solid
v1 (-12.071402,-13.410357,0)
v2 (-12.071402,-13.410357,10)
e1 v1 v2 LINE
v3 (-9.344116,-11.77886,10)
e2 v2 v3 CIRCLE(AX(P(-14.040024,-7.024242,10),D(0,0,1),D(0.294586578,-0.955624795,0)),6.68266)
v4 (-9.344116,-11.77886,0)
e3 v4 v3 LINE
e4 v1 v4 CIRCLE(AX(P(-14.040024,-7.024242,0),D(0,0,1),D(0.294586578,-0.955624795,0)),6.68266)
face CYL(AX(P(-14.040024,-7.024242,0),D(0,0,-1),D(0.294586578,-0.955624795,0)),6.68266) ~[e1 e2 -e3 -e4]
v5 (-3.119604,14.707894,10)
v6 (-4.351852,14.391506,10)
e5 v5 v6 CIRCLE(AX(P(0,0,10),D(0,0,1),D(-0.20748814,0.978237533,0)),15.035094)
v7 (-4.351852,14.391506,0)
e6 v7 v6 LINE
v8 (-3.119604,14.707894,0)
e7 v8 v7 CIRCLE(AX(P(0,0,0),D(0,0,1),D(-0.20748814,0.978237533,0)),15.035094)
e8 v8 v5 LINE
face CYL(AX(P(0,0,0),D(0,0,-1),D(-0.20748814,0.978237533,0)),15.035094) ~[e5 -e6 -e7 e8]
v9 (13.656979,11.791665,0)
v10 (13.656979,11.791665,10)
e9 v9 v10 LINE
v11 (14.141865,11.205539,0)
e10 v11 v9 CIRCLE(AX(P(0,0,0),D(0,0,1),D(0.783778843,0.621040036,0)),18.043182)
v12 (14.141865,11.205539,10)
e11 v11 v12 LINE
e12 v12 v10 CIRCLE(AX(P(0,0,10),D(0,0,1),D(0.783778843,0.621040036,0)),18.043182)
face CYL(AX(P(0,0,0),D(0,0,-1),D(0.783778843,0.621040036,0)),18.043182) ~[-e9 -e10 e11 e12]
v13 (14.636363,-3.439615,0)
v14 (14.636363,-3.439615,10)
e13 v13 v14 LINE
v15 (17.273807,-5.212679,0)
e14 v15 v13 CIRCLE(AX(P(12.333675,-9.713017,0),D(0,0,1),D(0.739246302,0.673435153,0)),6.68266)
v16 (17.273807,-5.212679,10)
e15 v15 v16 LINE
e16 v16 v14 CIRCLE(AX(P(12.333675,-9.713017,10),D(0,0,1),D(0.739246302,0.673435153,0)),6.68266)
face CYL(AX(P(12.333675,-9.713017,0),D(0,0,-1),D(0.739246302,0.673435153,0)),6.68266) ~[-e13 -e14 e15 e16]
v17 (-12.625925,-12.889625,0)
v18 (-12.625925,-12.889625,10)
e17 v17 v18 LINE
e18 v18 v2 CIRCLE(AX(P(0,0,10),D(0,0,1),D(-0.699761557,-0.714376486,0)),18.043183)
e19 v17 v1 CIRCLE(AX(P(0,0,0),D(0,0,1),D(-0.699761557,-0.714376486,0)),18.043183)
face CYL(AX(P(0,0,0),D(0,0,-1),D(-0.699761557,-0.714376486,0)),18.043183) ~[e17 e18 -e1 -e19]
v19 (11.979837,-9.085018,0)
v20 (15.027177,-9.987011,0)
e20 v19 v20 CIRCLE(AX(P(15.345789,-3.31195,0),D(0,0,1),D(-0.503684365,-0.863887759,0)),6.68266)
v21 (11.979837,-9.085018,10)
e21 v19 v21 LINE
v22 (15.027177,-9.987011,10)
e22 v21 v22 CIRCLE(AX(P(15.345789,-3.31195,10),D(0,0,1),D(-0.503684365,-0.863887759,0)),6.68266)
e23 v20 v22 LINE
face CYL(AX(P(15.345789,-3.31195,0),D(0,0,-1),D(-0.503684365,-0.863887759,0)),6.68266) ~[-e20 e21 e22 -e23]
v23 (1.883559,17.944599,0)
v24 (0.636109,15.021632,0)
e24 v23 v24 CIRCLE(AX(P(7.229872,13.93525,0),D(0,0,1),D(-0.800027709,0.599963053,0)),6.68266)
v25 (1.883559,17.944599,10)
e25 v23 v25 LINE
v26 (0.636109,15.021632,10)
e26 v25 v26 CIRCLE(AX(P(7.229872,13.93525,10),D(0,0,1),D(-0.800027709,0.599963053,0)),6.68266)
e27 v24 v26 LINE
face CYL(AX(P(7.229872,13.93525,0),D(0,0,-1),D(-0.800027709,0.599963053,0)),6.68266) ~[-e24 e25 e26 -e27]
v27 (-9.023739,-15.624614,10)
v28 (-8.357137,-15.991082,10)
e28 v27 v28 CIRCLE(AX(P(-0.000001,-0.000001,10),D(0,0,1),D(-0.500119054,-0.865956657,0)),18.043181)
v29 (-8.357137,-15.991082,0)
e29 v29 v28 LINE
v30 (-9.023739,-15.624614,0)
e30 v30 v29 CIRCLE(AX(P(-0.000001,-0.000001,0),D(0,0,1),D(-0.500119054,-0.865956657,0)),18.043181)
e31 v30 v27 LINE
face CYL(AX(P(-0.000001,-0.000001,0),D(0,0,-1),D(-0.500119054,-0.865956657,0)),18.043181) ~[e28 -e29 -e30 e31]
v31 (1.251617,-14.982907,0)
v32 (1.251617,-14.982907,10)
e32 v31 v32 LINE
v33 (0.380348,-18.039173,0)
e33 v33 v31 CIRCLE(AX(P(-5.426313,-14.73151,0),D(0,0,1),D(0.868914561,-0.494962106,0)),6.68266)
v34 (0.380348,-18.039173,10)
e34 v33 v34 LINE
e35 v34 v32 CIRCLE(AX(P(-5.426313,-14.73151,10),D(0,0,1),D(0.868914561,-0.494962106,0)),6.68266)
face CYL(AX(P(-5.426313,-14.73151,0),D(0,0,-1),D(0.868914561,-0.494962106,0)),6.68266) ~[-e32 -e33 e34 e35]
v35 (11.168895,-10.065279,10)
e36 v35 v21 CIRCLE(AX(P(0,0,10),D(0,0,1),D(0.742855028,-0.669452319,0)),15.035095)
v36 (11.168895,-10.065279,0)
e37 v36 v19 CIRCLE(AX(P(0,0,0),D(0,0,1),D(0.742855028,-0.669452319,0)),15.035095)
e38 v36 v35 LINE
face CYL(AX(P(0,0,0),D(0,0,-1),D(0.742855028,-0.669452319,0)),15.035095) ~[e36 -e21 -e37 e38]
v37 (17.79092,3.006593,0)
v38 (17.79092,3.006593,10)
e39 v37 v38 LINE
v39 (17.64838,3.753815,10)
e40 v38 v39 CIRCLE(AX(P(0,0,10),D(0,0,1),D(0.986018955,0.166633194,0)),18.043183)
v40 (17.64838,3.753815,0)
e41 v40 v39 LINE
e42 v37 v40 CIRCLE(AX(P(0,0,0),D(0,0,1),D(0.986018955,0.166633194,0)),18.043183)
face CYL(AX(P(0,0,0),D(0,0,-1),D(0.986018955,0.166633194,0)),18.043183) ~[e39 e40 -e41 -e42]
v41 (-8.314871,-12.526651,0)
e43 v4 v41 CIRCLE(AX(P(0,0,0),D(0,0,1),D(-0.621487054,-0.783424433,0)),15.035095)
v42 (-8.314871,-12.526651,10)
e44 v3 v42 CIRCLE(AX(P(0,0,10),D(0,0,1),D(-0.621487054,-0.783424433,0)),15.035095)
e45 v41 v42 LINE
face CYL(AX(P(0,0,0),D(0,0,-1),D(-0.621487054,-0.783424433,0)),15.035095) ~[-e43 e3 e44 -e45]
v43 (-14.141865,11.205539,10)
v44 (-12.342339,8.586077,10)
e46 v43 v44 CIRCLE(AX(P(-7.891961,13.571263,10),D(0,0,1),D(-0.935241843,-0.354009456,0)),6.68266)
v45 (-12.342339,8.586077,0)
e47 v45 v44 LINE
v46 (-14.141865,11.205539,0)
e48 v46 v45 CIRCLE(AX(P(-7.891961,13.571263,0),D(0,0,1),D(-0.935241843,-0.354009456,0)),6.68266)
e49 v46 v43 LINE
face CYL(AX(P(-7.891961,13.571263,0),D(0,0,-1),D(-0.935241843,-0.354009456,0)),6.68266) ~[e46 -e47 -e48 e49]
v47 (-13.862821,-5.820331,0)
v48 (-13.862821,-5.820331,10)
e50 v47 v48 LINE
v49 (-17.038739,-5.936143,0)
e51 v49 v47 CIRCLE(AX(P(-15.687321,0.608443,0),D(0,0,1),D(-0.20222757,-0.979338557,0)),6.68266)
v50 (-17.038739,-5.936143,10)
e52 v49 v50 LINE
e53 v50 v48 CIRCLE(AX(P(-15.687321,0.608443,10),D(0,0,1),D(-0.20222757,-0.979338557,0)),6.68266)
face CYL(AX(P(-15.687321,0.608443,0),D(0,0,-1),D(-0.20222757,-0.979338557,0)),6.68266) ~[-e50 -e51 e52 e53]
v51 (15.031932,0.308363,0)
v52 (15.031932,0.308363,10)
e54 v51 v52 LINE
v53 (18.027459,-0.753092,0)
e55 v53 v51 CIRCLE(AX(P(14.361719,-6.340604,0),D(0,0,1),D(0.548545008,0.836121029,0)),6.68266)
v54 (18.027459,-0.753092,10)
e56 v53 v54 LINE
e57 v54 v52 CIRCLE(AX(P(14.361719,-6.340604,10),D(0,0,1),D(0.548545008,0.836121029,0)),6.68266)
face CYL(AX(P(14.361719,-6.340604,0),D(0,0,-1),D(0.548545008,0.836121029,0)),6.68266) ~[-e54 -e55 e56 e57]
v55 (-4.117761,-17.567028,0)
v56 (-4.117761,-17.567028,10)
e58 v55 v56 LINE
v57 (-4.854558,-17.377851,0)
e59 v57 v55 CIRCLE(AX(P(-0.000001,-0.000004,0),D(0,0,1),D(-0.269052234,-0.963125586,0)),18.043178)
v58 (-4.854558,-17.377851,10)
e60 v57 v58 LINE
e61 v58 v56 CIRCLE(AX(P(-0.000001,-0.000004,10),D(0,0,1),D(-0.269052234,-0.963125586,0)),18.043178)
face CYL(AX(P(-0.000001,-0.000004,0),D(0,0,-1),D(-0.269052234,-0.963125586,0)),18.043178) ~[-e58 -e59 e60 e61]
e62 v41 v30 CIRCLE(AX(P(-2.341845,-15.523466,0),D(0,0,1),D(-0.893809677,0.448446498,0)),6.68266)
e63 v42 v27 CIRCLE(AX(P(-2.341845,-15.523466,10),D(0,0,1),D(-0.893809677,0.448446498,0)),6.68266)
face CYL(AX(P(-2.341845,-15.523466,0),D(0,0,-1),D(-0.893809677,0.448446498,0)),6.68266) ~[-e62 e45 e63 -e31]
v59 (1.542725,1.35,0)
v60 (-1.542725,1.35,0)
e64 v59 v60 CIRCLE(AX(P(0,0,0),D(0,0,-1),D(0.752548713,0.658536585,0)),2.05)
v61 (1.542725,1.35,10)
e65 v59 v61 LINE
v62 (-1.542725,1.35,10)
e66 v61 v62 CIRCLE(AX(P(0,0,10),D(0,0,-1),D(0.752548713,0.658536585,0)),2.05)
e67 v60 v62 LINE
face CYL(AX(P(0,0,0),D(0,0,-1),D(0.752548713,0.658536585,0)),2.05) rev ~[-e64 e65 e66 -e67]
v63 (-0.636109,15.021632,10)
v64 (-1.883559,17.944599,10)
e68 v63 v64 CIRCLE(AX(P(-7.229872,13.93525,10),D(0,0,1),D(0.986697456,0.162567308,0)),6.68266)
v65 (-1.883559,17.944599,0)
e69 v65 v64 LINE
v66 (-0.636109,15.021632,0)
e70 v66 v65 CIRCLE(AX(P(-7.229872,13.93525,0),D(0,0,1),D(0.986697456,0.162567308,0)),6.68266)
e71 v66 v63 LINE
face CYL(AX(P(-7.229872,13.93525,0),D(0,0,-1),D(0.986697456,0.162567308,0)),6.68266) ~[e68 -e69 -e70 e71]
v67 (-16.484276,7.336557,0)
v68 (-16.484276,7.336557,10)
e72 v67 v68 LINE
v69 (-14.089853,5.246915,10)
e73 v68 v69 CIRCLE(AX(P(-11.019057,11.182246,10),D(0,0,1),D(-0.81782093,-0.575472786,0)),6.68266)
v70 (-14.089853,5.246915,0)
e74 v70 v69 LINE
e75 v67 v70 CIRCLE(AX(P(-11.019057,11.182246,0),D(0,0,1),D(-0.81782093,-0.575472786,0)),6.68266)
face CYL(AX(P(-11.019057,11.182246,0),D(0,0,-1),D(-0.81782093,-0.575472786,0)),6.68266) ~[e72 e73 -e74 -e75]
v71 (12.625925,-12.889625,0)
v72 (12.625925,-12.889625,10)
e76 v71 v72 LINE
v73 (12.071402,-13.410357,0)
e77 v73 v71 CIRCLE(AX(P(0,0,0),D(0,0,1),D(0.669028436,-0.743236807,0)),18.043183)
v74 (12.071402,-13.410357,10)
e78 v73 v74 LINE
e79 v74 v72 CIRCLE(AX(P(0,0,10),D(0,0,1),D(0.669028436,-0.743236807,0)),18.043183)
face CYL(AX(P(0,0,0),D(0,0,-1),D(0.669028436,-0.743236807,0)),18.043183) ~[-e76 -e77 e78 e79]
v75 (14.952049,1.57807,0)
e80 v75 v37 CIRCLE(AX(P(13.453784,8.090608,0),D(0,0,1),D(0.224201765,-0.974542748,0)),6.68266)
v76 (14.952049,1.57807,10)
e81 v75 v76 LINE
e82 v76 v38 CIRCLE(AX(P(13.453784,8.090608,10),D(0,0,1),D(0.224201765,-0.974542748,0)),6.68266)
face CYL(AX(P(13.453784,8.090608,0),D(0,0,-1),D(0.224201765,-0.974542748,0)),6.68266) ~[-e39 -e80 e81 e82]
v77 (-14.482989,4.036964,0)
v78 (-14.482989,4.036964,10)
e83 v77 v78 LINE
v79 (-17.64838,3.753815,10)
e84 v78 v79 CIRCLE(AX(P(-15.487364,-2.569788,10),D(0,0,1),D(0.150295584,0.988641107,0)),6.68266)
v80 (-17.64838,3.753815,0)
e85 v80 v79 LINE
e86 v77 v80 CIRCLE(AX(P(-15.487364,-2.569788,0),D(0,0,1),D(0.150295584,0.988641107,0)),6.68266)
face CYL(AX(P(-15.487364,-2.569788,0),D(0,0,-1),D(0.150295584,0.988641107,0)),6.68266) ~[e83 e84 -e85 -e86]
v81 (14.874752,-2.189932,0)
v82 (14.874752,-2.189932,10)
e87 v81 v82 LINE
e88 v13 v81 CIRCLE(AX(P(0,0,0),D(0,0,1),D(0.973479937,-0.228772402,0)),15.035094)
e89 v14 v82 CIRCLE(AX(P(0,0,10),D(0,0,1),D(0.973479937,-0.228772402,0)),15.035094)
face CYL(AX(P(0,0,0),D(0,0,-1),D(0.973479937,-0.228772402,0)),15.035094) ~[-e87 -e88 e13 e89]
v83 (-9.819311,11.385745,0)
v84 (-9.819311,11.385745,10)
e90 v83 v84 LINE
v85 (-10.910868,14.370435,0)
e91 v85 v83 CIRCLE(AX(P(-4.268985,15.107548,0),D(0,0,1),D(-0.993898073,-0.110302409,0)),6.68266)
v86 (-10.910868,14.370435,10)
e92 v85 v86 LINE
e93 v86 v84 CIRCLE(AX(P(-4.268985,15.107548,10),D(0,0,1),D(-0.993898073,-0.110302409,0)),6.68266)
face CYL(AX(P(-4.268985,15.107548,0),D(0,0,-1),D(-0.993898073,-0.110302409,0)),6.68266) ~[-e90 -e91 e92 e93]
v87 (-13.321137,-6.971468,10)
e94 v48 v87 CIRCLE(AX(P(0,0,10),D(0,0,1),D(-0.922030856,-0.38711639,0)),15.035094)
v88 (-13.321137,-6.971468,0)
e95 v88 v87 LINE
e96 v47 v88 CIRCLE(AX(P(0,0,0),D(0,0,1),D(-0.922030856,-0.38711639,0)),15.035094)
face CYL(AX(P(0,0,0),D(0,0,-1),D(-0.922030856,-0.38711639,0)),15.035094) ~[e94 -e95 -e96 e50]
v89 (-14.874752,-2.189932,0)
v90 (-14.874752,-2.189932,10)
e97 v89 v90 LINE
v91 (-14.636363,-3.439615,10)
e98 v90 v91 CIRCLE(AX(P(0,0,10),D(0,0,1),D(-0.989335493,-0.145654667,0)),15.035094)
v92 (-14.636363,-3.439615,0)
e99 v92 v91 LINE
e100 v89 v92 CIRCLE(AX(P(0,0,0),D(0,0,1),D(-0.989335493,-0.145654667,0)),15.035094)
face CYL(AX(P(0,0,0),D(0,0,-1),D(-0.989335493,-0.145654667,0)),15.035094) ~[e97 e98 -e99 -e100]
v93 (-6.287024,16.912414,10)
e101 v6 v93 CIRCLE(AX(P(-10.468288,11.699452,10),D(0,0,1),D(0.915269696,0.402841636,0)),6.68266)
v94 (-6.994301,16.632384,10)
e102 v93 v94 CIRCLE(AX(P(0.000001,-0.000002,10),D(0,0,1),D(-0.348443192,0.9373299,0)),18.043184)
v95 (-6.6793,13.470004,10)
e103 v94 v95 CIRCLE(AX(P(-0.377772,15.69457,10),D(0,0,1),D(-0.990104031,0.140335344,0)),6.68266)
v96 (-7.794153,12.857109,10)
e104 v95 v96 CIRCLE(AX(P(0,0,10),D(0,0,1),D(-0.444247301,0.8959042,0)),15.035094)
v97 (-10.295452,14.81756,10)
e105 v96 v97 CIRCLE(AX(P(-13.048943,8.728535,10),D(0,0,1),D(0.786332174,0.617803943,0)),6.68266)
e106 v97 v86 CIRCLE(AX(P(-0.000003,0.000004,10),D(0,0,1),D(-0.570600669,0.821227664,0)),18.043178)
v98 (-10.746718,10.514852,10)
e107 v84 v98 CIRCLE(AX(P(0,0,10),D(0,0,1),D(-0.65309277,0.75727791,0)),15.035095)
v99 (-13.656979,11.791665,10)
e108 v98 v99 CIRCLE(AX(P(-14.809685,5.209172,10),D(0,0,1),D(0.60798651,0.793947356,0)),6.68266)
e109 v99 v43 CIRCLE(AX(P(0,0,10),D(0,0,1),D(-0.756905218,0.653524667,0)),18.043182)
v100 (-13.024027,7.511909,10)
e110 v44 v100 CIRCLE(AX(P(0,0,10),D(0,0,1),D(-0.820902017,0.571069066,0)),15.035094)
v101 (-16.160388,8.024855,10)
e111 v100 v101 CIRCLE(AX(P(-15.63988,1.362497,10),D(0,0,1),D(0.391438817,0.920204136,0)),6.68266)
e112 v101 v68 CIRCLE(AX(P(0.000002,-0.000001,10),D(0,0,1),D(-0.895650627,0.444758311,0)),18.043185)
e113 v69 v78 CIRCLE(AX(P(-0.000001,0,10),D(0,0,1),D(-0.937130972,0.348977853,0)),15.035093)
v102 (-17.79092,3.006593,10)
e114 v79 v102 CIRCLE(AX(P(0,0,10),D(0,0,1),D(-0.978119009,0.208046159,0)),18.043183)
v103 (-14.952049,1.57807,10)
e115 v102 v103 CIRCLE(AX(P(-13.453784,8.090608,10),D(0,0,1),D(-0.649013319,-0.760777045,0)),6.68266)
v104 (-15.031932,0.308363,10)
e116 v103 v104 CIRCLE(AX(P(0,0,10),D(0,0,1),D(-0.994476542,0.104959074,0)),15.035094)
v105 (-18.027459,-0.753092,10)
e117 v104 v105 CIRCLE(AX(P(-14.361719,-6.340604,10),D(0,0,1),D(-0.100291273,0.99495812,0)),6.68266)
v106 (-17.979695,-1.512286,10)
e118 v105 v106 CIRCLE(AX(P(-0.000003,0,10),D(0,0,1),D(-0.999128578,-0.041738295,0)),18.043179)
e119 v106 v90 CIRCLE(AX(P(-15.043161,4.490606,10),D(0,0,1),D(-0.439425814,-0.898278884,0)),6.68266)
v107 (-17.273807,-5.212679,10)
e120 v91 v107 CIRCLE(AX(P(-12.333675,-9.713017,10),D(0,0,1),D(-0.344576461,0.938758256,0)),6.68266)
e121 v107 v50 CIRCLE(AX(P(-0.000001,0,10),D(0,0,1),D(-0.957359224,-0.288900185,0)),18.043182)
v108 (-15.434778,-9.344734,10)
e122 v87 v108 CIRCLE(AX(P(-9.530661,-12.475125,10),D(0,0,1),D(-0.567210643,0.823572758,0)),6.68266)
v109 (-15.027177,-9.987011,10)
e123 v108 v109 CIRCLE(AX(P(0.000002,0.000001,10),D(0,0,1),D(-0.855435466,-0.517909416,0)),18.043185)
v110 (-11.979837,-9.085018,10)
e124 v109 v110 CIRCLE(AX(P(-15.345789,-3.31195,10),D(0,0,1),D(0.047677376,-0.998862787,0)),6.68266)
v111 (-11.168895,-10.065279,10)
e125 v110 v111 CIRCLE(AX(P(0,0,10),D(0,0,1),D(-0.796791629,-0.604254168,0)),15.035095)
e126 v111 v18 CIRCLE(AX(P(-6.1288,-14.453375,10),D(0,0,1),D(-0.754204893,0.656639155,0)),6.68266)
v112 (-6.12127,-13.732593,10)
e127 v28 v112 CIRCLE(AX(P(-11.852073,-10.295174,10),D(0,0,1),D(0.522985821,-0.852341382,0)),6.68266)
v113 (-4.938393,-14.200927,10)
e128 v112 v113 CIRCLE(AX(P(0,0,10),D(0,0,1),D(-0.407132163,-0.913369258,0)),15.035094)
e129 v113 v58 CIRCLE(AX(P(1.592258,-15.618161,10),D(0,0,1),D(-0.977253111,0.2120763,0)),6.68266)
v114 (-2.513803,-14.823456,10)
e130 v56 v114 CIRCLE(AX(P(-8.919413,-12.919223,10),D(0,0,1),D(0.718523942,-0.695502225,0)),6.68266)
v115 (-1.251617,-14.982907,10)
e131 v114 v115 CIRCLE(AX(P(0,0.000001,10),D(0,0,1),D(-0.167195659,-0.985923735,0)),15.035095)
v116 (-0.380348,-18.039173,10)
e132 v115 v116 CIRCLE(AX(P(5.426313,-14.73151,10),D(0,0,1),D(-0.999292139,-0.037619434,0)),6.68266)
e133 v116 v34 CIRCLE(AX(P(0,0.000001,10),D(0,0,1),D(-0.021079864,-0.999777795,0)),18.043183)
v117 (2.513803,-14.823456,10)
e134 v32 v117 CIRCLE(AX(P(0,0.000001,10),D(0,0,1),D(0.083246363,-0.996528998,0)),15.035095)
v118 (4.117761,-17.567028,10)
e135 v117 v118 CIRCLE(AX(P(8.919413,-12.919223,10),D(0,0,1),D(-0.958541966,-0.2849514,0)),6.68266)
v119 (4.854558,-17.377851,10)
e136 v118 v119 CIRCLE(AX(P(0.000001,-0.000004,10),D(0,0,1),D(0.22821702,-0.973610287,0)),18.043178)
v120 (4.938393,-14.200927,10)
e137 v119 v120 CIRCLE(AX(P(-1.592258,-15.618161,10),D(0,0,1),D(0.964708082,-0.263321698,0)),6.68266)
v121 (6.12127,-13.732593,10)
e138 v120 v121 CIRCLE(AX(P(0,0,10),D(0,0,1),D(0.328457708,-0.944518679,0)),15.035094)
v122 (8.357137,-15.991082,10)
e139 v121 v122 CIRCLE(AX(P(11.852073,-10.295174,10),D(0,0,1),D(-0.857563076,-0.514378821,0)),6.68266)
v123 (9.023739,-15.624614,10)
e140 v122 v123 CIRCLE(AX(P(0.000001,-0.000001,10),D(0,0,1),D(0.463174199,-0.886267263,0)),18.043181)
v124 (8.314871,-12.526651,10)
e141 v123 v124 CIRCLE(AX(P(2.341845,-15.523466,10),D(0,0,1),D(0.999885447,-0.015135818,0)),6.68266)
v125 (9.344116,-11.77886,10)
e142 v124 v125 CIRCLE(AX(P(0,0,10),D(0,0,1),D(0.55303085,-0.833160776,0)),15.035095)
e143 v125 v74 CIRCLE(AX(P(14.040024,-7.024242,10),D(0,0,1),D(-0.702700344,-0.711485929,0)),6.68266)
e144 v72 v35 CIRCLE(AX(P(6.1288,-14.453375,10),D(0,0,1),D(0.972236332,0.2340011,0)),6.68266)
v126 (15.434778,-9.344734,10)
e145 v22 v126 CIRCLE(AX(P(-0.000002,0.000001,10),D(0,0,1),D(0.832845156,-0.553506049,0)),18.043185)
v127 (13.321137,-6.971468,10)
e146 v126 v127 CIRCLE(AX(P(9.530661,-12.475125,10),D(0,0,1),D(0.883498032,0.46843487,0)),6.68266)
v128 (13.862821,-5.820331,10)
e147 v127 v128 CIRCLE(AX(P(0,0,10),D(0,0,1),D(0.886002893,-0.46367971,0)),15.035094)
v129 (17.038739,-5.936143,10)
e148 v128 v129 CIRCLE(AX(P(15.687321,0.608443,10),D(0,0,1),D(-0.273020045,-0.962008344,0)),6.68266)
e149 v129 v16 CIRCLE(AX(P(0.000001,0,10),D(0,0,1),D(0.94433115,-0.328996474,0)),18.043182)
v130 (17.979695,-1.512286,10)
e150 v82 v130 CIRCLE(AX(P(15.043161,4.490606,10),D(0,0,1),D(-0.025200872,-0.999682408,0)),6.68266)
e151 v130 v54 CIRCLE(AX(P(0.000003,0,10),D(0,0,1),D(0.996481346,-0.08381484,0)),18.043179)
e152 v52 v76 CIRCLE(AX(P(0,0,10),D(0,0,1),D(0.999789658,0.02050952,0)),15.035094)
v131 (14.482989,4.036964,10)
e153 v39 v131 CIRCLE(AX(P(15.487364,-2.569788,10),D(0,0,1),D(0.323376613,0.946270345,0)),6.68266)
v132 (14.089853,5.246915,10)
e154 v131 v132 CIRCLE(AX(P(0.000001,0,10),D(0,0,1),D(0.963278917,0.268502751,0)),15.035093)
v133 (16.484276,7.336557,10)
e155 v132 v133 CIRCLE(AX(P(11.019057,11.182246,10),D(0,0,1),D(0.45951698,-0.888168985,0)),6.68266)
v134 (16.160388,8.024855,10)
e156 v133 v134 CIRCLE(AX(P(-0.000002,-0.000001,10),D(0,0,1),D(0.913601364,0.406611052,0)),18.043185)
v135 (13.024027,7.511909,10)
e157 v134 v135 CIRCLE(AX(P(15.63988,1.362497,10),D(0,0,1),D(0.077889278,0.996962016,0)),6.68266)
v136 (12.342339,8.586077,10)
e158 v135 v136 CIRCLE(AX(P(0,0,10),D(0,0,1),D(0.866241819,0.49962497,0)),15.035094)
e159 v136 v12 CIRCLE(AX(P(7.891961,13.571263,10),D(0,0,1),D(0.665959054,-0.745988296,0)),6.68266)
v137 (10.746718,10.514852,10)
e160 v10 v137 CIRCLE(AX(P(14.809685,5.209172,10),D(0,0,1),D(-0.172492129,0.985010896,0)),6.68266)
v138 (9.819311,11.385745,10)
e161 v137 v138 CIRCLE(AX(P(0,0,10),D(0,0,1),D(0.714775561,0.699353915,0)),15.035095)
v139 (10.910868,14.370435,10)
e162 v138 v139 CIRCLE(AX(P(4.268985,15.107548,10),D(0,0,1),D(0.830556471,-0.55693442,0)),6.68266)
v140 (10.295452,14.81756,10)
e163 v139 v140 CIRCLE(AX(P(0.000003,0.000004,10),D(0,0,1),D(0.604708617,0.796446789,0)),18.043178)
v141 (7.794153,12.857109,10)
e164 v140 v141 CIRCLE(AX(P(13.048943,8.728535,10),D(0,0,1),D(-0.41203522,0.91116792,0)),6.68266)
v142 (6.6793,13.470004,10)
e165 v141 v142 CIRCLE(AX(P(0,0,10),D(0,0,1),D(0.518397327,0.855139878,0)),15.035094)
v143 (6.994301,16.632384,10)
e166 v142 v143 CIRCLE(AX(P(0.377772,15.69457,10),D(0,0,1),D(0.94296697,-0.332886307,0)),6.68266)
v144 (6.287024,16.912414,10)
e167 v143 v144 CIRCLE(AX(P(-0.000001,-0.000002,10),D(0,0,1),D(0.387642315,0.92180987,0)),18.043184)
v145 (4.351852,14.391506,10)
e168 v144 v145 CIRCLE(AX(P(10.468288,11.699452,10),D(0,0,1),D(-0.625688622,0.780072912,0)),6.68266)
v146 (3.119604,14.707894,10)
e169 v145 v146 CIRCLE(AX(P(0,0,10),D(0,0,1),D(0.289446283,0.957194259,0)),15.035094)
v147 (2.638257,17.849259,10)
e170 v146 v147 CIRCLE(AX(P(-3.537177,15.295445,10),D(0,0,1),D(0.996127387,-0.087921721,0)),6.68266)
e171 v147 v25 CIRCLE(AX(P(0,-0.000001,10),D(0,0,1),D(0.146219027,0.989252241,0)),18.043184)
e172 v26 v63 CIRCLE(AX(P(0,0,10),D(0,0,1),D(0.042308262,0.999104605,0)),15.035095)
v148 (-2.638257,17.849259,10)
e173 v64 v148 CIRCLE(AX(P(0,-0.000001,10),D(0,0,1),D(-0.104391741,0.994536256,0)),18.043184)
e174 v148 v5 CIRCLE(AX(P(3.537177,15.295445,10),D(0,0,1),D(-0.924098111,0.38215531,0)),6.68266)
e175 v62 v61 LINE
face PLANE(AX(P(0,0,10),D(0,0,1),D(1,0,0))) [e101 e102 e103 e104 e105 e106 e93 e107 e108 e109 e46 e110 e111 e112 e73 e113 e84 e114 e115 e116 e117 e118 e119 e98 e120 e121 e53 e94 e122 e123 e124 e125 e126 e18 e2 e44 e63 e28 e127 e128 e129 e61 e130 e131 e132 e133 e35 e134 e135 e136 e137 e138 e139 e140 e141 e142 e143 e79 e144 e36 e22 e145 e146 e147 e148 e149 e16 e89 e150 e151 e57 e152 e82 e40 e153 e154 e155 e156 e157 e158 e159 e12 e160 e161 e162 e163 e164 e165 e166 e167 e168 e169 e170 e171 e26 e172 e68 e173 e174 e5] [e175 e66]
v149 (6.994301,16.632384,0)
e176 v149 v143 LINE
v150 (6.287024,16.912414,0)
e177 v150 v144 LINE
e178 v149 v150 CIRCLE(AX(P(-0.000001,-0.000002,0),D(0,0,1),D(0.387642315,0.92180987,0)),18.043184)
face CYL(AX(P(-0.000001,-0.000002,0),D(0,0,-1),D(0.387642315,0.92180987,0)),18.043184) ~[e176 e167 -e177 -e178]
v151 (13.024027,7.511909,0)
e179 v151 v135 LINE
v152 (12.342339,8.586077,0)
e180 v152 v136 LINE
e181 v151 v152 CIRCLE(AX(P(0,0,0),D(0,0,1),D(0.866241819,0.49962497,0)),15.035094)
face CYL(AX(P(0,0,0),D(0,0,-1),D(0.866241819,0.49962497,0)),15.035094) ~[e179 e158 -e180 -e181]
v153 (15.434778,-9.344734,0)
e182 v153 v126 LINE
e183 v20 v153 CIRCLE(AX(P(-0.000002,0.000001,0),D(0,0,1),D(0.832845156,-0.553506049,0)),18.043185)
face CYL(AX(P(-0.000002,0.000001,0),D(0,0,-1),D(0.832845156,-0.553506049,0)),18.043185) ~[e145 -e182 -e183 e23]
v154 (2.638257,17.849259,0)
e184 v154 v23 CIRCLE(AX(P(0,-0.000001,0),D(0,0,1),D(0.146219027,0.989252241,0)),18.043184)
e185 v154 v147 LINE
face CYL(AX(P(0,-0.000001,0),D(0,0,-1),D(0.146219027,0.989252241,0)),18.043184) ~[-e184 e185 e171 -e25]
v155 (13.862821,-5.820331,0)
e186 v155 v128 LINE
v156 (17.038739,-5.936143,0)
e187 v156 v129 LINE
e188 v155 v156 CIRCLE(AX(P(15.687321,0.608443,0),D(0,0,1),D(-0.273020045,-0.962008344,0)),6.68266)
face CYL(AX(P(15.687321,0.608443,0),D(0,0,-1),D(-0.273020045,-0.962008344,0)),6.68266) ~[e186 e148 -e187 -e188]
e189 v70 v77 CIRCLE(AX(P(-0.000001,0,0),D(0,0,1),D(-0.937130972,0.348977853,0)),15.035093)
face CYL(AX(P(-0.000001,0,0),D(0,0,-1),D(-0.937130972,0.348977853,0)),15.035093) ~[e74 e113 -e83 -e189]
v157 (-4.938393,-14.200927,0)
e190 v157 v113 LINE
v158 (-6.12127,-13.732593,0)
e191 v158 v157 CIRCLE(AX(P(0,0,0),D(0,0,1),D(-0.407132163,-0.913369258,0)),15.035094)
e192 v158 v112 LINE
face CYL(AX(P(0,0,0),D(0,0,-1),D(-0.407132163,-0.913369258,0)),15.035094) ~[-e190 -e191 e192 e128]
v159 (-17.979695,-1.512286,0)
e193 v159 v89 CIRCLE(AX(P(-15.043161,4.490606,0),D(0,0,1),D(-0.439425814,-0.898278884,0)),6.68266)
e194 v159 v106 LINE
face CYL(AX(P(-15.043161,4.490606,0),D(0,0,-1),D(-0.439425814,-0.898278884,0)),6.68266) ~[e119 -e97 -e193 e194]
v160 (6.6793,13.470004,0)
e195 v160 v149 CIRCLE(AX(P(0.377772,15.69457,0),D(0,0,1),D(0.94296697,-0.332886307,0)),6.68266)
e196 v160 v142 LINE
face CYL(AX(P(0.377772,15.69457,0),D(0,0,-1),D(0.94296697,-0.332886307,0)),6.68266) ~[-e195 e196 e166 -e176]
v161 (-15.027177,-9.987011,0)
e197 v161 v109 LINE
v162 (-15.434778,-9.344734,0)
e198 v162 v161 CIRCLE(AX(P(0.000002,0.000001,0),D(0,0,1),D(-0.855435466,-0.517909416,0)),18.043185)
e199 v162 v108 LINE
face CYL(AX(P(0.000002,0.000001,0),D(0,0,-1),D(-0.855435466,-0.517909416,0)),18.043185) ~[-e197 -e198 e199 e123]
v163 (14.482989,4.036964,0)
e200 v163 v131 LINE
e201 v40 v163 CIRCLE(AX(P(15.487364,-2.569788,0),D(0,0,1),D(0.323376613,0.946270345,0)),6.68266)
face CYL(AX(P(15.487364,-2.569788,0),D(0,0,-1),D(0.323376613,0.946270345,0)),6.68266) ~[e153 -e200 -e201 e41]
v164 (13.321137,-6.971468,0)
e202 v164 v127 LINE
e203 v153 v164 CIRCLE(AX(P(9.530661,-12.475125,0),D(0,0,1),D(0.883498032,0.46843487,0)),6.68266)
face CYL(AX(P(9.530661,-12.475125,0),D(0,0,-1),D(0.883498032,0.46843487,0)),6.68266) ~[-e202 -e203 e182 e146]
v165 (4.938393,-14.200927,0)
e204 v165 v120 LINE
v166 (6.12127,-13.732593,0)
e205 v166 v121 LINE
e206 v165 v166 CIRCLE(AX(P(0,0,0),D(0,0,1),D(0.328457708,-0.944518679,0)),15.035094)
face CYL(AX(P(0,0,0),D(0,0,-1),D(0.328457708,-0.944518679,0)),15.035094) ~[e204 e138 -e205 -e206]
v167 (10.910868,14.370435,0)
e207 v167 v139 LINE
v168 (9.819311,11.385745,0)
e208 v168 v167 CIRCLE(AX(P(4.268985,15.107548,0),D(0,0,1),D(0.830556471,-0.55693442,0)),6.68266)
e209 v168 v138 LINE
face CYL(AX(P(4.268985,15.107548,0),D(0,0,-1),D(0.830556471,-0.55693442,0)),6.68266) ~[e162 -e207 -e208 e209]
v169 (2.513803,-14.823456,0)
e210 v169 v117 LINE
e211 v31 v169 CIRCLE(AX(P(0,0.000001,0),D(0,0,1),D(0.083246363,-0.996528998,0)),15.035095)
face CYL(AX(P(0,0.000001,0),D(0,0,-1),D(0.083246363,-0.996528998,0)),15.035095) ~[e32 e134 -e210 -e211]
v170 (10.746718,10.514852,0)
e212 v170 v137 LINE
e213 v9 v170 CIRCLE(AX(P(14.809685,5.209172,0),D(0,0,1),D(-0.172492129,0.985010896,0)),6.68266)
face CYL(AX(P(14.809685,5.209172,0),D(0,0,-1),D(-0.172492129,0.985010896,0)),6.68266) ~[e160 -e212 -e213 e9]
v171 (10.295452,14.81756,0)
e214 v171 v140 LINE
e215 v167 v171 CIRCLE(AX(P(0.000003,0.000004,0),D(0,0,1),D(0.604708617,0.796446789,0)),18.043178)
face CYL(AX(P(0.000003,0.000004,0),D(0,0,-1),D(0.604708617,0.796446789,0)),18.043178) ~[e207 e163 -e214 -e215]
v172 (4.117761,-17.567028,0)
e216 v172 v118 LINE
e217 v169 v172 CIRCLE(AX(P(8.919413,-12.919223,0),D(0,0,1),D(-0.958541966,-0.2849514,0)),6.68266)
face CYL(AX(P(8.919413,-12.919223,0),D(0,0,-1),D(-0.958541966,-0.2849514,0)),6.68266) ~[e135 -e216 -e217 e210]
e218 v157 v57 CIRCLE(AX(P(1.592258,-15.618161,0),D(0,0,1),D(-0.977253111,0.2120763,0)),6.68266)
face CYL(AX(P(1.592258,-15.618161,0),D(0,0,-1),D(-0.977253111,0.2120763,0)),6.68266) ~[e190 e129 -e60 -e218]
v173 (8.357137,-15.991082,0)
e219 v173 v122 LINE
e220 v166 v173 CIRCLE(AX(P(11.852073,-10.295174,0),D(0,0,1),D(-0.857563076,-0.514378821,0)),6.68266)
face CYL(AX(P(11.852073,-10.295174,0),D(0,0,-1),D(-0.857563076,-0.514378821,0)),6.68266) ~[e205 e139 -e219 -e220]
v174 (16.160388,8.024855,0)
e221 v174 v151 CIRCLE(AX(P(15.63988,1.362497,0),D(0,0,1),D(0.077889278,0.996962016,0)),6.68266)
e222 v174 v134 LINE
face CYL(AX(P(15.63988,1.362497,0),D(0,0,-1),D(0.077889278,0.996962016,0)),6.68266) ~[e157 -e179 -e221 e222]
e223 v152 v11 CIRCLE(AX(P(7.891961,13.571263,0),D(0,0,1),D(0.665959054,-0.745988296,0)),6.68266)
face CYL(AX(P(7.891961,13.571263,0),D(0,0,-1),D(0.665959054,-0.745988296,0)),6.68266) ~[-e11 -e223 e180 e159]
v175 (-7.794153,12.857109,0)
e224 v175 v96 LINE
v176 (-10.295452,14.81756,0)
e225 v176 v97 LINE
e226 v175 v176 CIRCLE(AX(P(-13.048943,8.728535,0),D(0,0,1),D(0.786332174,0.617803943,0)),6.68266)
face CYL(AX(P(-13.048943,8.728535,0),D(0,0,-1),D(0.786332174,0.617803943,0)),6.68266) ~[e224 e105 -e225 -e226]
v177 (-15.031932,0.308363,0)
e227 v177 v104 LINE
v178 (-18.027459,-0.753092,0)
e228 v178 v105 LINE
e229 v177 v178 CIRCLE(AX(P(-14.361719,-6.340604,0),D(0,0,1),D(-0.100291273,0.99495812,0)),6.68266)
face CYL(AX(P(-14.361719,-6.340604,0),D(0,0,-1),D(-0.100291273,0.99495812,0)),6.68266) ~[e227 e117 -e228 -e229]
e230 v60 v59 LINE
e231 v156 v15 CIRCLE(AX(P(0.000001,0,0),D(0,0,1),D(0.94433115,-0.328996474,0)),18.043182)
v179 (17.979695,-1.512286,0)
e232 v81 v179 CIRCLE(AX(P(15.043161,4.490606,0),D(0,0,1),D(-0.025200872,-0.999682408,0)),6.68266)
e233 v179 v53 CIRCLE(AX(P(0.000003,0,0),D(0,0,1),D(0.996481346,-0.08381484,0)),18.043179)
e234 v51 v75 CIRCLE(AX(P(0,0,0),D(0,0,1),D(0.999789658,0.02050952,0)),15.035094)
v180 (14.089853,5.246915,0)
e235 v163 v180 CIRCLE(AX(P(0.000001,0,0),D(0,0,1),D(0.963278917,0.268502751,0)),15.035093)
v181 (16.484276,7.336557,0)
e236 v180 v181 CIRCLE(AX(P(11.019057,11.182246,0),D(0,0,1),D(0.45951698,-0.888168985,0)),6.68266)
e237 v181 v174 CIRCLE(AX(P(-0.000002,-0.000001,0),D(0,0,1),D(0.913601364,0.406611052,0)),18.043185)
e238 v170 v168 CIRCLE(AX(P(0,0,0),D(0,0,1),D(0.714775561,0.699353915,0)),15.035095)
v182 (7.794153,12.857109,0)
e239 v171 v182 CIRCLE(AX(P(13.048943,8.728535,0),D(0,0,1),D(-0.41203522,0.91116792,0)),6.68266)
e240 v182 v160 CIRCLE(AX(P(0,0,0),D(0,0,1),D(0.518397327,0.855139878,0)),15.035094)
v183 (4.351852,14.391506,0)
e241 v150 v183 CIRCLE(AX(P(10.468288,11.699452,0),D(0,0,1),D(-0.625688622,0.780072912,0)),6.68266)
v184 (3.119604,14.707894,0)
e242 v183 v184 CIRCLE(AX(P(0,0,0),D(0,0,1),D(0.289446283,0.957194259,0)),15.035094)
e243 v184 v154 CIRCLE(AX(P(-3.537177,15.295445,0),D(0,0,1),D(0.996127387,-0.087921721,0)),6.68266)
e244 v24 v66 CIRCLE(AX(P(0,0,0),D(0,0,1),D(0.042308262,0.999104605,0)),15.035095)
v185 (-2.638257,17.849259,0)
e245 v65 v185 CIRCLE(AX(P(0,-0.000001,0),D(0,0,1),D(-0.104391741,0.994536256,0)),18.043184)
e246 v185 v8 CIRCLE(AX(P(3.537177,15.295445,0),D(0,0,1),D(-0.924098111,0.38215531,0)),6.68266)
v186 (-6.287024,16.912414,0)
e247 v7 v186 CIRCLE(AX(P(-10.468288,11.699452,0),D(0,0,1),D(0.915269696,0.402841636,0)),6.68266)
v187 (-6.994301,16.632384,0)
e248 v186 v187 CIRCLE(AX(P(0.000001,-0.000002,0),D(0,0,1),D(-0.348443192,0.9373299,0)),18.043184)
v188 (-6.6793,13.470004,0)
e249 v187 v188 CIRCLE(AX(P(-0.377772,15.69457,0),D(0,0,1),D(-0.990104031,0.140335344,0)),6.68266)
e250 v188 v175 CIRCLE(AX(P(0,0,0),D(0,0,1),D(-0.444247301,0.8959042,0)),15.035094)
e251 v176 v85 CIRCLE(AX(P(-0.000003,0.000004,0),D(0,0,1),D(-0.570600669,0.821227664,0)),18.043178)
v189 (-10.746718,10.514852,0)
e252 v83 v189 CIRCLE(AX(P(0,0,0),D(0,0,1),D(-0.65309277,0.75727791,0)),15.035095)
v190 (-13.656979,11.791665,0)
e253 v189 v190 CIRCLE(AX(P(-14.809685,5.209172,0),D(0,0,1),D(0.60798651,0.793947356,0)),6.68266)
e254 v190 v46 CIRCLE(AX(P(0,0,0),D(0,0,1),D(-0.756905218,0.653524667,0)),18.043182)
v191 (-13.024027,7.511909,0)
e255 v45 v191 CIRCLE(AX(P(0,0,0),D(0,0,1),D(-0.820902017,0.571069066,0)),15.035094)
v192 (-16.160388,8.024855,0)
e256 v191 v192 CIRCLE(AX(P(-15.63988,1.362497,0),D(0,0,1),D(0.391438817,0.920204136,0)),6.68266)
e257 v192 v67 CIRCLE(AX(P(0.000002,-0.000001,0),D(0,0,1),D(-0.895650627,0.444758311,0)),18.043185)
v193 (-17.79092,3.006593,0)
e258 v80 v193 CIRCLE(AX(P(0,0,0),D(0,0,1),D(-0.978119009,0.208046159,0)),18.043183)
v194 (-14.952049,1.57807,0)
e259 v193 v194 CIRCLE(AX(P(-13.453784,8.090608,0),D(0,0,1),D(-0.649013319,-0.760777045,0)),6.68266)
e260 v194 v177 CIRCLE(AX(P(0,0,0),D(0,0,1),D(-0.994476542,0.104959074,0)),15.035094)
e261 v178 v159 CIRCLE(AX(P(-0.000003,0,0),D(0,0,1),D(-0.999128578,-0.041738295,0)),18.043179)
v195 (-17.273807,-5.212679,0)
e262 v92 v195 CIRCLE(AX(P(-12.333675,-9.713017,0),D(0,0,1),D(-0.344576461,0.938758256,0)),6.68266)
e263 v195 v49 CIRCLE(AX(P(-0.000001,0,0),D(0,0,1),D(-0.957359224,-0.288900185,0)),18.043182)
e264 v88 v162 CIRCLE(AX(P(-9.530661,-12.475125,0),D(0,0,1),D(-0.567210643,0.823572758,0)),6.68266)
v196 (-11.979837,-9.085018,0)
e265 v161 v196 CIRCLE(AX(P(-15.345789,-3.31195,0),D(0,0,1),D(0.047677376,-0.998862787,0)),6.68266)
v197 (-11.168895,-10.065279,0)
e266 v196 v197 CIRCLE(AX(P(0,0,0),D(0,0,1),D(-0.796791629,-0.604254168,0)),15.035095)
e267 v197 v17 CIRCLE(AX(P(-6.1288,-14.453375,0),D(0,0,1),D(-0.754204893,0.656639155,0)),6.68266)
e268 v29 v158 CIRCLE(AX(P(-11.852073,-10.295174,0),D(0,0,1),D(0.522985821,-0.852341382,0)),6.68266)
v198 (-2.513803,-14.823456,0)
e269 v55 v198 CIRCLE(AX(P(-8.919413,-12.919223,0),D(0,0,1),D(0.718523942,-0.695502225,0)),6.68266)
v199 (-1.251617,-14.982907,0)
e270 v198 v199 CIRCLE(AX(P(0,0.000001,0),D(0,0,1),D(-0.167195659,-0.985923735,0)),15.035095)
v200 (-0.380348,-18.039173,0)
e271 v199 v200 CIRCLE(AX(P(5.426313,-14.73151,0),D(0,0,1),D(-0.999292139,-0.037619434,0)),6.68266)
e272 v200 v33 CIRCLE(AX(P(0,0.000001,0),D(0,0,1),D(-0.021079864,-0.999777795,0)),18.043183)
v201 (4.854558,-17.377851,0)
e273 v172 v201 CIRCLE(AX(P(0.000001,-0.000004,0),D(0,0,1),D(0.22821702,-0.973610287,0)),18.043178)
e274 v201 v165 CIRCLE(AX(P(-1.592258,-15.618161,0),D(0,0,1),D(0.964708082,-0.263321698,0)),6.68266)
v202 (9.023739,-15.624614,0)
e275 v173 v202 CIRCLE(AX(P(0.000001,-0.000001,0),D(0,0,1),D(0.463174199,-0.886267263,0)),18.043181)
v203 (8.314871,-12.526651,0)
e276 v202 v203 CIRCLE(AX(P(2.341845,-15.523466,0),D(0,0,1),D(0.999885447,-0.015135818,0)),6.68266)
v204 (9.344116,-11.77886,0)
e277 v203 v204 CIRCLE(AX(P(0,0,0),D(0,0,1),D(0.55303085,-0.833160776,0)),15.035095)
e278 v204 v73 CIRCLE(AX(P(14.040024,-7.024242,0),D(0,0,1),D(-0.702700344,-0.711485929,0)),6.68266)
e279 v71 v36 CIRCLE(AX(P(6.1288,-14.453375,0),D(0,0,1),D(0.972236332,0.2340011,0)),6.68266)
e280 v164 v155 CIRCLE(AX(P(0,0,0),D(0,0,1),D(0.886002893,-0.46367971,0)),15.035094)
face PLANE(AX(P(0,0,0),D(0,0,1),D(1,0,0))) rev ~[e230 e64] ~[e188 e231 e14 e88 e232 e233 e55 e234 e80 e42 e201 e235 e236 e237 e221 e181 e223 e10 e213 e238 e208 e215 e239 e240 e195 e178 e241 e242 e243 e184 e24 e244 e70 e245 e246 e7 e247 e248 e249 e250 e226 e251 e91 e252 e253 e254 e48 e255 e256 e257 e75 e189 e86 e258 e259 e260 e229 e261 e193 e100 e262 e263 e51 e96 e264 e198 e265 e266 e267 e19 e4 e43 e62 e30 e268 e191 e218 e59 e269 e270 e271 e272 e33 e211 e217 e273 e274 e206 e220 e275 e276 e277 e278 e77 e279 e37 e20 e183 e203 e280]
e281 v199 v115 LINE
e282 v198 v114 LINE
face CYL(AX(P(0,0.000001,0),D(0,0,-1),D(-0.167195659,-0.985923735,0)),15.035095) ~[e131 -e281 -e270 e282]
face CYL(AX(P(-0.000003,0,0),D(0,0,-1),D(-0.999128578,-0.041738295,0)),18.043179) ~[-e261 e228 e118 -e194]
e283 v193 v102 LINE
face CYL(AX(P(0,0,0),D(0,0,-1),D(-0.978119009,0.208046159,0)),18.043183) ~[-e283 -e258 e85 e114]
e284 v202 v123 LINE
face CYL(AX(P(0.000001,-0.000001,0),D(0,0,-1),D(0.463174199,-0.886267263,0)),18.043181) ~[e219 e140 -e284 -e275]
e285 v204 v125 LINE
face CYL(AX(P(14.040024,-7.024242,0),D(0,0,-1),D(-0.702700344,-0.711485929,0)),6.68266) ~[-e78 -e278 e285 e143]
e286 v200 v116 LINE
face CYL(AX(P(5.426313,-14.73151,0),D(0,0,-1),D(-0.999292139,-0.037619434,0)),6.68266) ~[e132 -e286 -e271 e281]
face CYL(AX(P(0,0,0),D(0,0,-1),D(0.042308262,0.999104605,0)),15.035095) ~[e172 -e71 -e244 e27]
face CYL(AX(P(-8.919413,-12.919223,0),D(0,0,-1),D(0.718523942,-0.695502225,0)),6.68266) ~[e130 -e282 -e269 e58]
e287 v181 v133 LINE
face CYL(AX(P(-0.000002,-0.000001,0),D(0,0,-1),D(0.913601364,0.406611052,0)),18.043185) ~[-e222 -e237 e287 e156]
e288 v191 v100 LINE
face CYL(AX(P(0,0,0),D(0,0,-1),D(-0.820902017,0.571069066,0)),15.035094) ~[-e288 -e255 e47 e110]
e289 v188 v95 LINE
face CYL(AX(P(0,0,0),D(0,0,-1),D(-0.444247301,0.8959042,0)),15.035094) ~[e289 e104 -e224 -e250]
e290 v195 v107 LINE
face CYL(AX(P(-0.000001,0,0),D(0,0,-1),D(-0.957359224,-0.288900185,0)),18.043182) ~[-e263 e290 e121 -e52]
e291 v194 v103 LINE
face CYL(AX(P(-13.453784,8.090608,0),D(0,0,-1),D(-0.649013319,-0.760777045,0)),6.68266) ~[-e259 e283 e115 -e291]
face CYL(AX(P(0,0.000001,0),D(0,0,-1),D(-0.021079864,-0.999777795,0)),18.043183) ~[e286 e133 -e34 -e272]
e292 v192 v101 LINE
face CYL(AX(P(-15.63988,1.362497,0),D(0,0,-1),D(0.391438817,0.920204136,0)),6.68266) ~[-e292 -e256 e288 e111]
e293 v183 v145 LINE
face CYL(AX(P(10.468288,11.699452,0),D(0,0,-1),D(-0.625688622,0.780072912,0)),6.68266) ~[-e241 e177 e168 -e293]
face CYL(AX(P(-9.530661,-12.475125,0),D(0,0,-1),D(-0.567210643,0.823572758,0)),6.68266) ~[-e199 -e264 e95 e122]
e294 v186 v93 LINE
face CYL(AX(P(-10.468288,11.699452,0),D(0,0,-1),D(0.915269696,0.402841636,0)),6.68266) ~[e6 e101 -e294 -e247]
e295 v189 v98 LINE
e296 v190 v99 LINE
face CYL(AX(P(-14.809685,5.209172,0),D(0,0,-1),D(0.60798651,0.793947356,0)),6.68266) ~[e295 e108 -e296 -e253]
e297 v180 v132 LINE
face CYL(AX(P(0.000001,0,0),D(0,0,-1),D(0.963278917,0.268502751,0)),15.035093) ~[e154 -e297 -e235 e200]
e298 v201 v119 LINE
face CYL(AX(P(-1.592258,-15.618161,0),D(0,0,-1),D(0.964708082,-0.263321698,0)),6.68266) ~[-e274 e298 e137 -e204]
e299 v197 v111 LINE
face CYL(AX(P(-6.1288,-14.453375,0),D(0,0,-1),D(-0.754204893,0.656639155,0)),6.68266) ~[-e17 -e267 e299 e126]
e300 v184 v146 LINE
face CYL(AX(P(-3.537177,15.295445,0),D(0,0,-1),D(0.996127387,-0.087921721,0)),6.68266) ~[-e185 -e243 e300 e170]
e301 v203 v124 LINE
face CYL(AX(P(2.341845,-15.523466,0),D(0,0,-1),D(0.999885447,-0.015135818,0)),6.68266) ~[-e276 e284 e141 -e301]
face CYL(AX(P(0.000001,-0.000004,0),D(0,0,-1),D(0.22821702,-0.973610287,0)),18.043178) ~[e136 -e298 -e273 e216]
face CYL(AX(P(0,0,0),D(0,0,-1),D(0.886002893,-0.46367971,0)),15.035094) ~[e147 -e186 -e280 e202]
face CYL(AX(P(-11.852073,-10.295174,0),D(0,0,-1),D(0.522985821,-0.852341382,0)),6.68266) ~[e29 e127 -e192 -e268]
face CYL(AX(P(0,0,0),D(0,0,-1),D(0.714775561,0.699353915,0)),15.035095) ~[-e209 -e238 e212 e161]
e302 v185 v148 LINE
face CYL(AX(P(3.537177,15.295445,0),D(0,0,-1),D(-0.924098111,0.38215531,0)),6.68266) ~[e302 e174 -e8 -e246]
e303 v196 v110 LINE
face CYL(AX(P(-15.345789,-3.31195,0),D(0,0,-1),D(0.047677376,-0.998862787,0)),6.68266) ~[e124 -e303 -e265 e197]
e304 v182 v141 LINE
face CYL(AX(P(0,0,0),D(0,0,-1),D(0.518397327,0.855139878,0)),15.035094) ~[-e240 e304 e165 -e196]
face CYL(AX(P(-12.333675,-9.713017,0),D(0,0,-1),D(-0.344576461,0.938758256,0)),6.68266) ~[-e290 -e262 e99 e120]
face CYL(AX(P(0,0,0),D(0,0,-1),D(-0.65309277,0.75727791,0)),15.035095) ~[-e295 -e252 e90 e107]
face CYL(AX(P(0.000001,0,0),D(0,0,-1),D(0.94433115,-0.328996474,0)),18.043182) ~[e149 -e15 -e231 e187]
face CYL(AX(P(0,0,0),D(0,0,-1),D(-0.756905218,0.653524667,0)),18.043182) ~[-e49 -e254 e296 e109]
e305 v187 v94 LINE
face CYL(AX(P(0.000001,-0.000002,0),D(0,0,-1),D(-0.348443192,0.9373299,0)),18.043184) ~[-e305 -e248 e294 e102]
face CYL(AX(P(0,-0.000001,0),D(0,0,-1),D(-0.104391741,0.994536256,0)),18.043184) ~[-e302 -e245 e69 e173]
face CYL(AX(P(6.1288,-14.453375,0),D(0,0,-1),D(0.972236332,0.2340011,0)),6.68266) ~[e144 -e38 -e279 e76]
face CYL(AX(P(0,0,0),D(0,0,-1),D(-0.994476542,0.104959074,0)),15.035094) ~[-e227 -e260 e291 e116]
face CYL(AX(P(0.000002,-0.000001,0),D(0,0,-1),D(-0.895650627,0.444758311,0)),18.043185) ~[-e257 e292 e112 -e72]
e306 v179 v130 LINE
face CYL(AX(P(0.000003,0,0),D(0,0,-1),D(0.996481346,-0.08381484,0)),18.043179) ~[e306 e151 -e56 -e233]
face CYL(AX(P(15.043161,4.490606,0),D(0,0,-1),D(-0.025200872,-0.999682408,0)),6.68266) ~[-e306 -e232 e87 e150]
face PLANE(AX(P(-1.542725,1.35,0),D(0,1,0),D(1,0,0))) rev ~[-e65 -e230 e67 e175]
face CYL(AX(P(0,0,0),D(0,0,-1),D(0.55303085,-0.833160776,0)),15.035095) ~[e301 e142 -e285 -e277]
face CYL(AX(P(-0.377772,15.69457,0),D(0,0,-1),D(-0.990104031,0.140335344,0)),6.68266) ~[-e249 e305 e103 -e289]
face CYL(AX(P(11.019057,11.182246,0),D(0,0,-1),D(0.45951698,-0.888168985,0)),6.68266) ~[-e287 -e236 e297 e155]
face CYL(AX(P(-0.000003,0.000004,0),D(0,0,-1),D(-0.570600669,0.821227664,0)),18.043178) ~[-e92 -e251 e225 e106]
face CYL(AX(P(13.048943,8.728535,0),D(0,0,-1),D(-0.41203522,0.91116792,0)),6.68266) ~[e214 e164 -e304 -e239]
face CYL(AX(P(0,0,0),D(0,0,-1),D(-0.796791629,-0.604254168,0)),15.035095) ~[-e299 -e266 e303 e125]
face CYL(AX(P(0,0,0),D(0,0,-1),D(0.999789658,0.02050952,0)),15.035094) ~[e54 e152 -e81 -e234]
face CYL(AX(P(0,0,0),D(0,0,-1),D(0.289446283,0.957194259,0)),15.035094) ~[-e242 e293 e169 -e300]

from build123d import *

# Parameters (mm, degrees)
BOSS_EXTRUDE1_DEPTH = 10


with BuildPart() as part:
    # Sketch1 → Boss-Extrude1 (new body)
    with BuildSketch(Plane.XY):
        with BuildLine():
            ThreePointArc((6.994301009, 16.632383564), (6.642138435, 16.776126687), (6.287024027, 16.912414331))
            ThreePointArc((6.287024027, 16.912414331), (5.167401268, 15.768670982), (4.351852136, 14.391505929))
            ThreePointArc((4.351852136, 14.391505929), (3.739075899, 14.562739143), (3.11960376, 14.707893537))
            ThreePointArc((3.11960376, 14.707893537), (3.068386931, 16.307606264), (2.63825659, 17.849258578))
            ThreePointArc((2.63825659, 17.849258578), (2.261410389, 17.900906476), (1.883559194, 17.944599031))
            ThreePointArc((1.883559194, 17.944599031), (1.083548848, 16.558349625), (0.636108713, 15.021631923))
            ThreePointArc((0.636108713, 15.021631923), (0, 15.035094277), (-0.636108713, 15.021631923))
            ThreePointArc((-0.636108713, 15.021631923), (-1.083548848, 16.558349625), (-1.883559194, 17.944599031))
            ThreePointArc((-1.883559194, 17.944599031), (-2.261410389, 17.900906476), (-2.63825659, 17.849258578))
            ThreePointArc((-2.63825659, 17.849258578), (-3.068386931, 16.307606264), (-3.11960376, 14.707893537))
            ThreePointArc((-3.11960376, 14.707893537), (-3.739075899, 14.562739143), (-4.351852136, 14.391505929))
            ThreePointArc((-4.351852136, 14.391505929), (-5.167401268, 15.768670982), (-6.287024027, 16.912414331))
            ThreePointArc((-6.287024027, 16.912414331), (-6.642138435, 16.776126687), (-6.994301009, 16.632383564))
            ThreePointArc((-6.994301009, 16.632383564), (-7.027524675, 15.032196025), (-6.679300055, 13.470004109))
            ThreePointArc((-6.679300055, 13.470004109), (-7.243211909, 13.17535355), (-7.794152684, 12.85710869))
            ThreePointArc((-7.794152684, 12.85710869), (-8.926566862, 13.988188748), (-10.295452017, 14.817560439))
            ThreePointArc((-10.295452017, 14.817560439), (-10.605516495, 14.597241161), (-10.910867773, 14.37043472))
            ThreePointArc((-10.910867773, 14.37043472), (-10.545097198, 12.812257626), (-9.819311364, 11.385744783))
            ThreePointArc((-9.819311364, 11.385744783), (-10.292230275, 10.960112038), (-10.746717955, 10.514852026))
            ThreePointArc((-10.746717955, 10.514852026), (-12.124843431, 11.32877717), (-13.656978894, 11.79166473))
            ThreePointArc((-13.656978894, 11.79166473), (-13.902510949, 11.501157287), (-14.141864588, 11.205538613))
            ThreePointArc((-14.141864588, 11.205538613), (-13.400082482, 9.787277961), (-12.342339226, 8.586077239))
            ThreePointArc((-12.342339226, 8.586077239), (-12.694549961, 8.056206379), (-13.024027412, 7.511908539))
            ThreePointArc((-13.024027412, 7.511908539), (-14.561271495, 7.957536859), (-16.16038756, 8.024855359))
            ThreePointArc((-16.16038756, 8.024855359), (-16.32595951, 7.682413402), (-16.48427604, 7.336557303))
            ThreePointArc((-16.48427604, 7.336557303), (-15.413091302, 6.147327625), (-14.089852523, 5.246914884))
            ThreePointArc((-14.089852523, 5.246914884), (-14.299224386, 4.646099644), (-14.482989328, 4.036964211))
            ThreePointArc((-14.482989328, 4.036964211), (-16.082761318, 4.08629524), (-17.648379642, 3.753814812))
            ThreePointArc((-17.648379642, 3.753814812), (-17.723587993, 3.38095523), (-17.790919803, 3.006593116))
            ThreePointArc((-17.790919803, 3.006593116), (-16.457638909, 2.121118087), (-14.952048567, 1.57806957))
            ThreePointArc((-14.952048567, 1.57806957), (-15.005425953, 0.944061381), (-15.03193176, 0.308362575))
            ThreePointArc((-15.03193176, 0.308362575), (-16.593712099, -0.041703336), (-18.027459124, -0.753091724))
            ThreePointArc((-18.027459124, -0.753091724), (-18.00757826, -1.132940794), (-17.979694645, -1.512286374))
            ThreePointArc((-17.979694645, -1.512286374), (-16.468092537, -2.038369101), (-14.87475241, -2.189931658))
            ThreePointArc((-14.87475241, -2.189931658), (-14.768781422, -2.817295731), (-14.636362636, -3.439614616))
            ThreePointArc((-14.636362636, -3.439614616), (-16.062018922, -4.167081539), (-17.27380705, -5.212678738))
            ThreePointArc((-17.27380705, -5.212678738), (-17.160086157, -5.575649981), (-17.038739148, -5.936143349))
            ThreePointArc((-17.038739148, -5.936143349), (-15.443795346, -6.069778062), (-13.862820853, -5.820331426))
            ThreePointArc((-13.862820853, -5.820331426), (-13.604160038, -6.40163179), (-13.321137019, -6.97146817))
            ThreePointArc((-13.321137019, -6.97146817), (-14.521090024, -8.030626683), (-15.43477815, -9.344733977))
            ThreePointArc((-15.43477815, -9.344733977), (-15.23436273, -9.668020574), (-15.027177006, -9.987010606))
            ThreePointArc((-15.027177006, -9.987010606), (-13.449107694, -9.719800545), (-11.979837279, -9.085018366))
            ThreePointArc((-11.979837279, -9.085018366), (-11.584739247, -9.58372978), (-11.168895371, -10.06527874))
            ThreePointArc((-11.168895371, -10.06527874), (-12.067747635, -11.389578018), (-12.625925373, -12.889625211))
            ThreePointArc((-12.625925373, -12.889625211), (-12.351408265, -13.152913878), (-12.071402067, -13.410357257))
            ThreePointArc((-12.071402067, -13.410357257), (-10.609363144, -12.759092212), (-9.344116469, -11.778860189))
            ThreePointArc((-9.344116469, -11.778860189), (-8.837406683, -12.163646782), (-8.314870951, -12.526650829))
            ThreePointArc((-8.314870951, -12.526650829), (-8.85614428, -14.032880278), (-9.023739271, -15.624613889))
            ThreePointArc((-9.023739271, -15.624613889), (-8.692369394, -15.81136123), (-8.35713654, -15.991081842))
            ThreePointArc((-8.35713654, -15.991081842), (-7.102993289, -14.996683191), (-6.121270456, -13.732592906))
            ThreePointArc((-6.121270456, -13.732592906), (-5.534787355, -13.979277122), (-4.938392608, -14.200927377))
            ThreePointArc((-4.938392608, -14.200927377), (-5.088076809, -15.794445061), (-4.854558443, -17.377850613))
            ThreePointArc((-4.854558443, -17.377850613), (-4.487156985, -17.476322606), (-4.117761389, -17.567027943))
            ThreePointArc((-4.117761389, -17.567027943), (-3.150316243, -16.291977412), (-2.513802508, -14.823456307))
            ThreePointArc((-2.513802508, -14.823456307), (-1.884396983, -14.916538068), (-1.251616896, -14.982907431))
            ThreePointArc((-1.251616896, -14.982907431), (-1.000306759, -16.563586773), (-0.380347854, -18.039173072))
            ThreePointArc((-0.380347854, -18.039173072), (0, -18.043182358), (0.380347854, -18.039173072))
            ThreePointArc((0.380347854, -18.039173072), (1.000306759, -16.563586773), (1.251616896, -14.982907431))
            ThreePointArc((1.251616896, -14.982907431), (1.884396983, -14.916538068), (2.513802508, -14.823456307))
            ThreePointArc((2.513802508, -14.823456307), (3.150316243, -16.291977412), (4.117761389, -17.567027943))
            ThreePointArc((4.117761389, -17.567027943), (4.487156985, -17.476322606), (4.854558443, -17.377850613))
            ThreePointArc((4.854558443, -17.377850613), (5.088076809, -15.794445061), (4.938392608, -14.200927377))
            ThreePointArc((4.938392608, -14.200927377), (5.534787355, -13.979277122), (6.121270456, -13.732592906))
            ThreePointArc((6.121270456, -13.732592906), (7.102993289, -14.996683191), (8.35713654, -15.991081842))
            ThreePointArc((8.35713654, -15.991081842), (8.692369394, -15.81136123), (9.023739271, -15.624613889))
            ThreePointArc((9.023739271, -15.624613889), (8.85614428, -14.032880278), (8.314870951, -12.526650829))
            ThreePointArc((8.314870951, -12.526650829), (8.837406683, -12.163646782), (9.344116469, -11.778860189))
            ThreePointArc((9.344116469, -11.778860189), (10.609363144, -12.759092212), (12.071402067, -13.410357257))
            ThreePointArc((12.071402067, -13.410357257), (12.351408265, -13.152913878), (12.625925373, -12.889625211))
            ThreePointArc((12.625925373, -12.889625211), (12.067747635, -11.389578018), (11.168895371, -10.06527874))
            ThreePointArc((11.168895371, -10.06527874), (11.584739247, -9.58372978), (11.979837279, -9.085018366))
            ThreePointArc((11.979837279, -9.085018366), (13.449107694, -9.719800545), (15.027177006, -9.987010606))
            ThreePointArc((15.027177006, -9.987010606), (15.23436273, -9.668020574), (15.43477815, -9.344733977))
            ThreePointArc((15.43477815, -9.344733977), (14.521090024, -8.030626683), (13.321137019, -6.97146817))
            ThreePointArc((13.321137019, -6.97146817), (13.604160038, -6.40163179), (13.862820853, -5.820331426))
            ThreePointArc((13.862820853, -5.820331426), (15.443795346, -6.069778062), (17.038739148, -5.936143349))
            ThreePointArc((17.038739148, -5.936143349), (17.160086157, -5.575649981), (17.27380705, -5.212678738))
            ThreePointArc((17.27380705, -5.212678738), (16.062018922, -4.167081539), (14.636362636, -3.439614616))
            ThreePointArc((14.636362636, -3.439614616), (14.768781422, -2.817295731), (14.87475241, -2.189931658))
            ThreePointArc((14.87475241, -2.189931658), (16.468092537, -2.038369101), (17.979694645, -1.512286374))
            ThreePointArc((17.979694645, -1.512286374), (18.00757826, -1.132940794), (18.027459124, -0.753091724))
            ThreePointArc((18.027459124, -0.753091724), (16.593712099, -0.041703336), (15.03193176, 0.308362575))
            ThreePointArc((15.03193176, 0.308362575), (15.005425953, 0.944061381), (14.952048567, 1.57806957))
            ThreePointArc((14.952048567, 1.57806957), (16.457638909, 2.121118087), (17.790919803, 3.006593116))
            ThreePointArc((17.790919803, 3.006593116), (17.723587993, 3.38095523), (17.648379642, 3.753814812))
            ThreePointArc((17.648379642, 3.753814812), (16.082761318, 4.08629524), (14.482989328, 4.036964211))
            ThreePointArc((14.482989328, 4.036964211), (14.299224386, 4.646099644), (14.089852523, 5.246914884))
            ThreePointArc((14.089852523, 5.246914884), (15.413091302, 6.147327625), (16.48427604, 7.336557303))
            ThreePointArc((16.48427604, 7.336557303), (16.32595951, 7.682413402), (16.16038756, 8.024855359))
            ThreePointArc((16.16038756, 8.024855359), (14.561271495, 7.957536859), (13.024027412, 7.511908539))
            ThreePointArc((13.024027412, 7.511908539), (12.694549961, 8.056206379), (12.342339226, 8.586077239))
            ThreePointArc((12.342339226, 8.586077239), (13.400082482, 9.787277961), (14.141864588, 11.205538613))
            ThreePointArc((14.141864588, 11.205538613), (13.902510949, 11.501157287), (13.656978894, 11.79166473))
            ThreePointArc((13.656978894, 11.79166473), (12.124843431, 11.32877717), (10.746717955, 10.514852026))
            ThreePointArc((10.746717955, 10.514852026), (10.292230275, 10.960112038), (9.819311364, 11.385744783))
            ThreePointArc((9.819311364, 11.385744783), (10.545097198, 12.812257626), (10.910867773, 14.37043472))
            ThreePointArc((10.910867773, 14.37043472), (10.605516495, 14.597241161), (10.295452017, 14.817560439))
            ThreePointArc((10.295452017, 14.817560439), (8.926566862, 13.988188748), (7.794152684, 12.85710869))
            ThreePointArc((7.794152684, 12.85710869), (7.243211909, 13.17535355), (6.679300055, 13.470004109))
            ThreePointArc((6.679300055, 13.470004109), (7.027524675, 15.032196025), (6.994301009, 16.632383564))
        make_face()
        with BuildLine():
            Line((-1.542724862, 1.35), (1.542724862, 1.35))
            ThreePointArc((1.542724862, 1.35), (0, -2.05), (-1.542724862, 1.35))
        make_face(mode=Mode.SUBTRACT)
    extrude(amount=BOSS_EXTRUDE1_DEPTH)


solid = part.part
